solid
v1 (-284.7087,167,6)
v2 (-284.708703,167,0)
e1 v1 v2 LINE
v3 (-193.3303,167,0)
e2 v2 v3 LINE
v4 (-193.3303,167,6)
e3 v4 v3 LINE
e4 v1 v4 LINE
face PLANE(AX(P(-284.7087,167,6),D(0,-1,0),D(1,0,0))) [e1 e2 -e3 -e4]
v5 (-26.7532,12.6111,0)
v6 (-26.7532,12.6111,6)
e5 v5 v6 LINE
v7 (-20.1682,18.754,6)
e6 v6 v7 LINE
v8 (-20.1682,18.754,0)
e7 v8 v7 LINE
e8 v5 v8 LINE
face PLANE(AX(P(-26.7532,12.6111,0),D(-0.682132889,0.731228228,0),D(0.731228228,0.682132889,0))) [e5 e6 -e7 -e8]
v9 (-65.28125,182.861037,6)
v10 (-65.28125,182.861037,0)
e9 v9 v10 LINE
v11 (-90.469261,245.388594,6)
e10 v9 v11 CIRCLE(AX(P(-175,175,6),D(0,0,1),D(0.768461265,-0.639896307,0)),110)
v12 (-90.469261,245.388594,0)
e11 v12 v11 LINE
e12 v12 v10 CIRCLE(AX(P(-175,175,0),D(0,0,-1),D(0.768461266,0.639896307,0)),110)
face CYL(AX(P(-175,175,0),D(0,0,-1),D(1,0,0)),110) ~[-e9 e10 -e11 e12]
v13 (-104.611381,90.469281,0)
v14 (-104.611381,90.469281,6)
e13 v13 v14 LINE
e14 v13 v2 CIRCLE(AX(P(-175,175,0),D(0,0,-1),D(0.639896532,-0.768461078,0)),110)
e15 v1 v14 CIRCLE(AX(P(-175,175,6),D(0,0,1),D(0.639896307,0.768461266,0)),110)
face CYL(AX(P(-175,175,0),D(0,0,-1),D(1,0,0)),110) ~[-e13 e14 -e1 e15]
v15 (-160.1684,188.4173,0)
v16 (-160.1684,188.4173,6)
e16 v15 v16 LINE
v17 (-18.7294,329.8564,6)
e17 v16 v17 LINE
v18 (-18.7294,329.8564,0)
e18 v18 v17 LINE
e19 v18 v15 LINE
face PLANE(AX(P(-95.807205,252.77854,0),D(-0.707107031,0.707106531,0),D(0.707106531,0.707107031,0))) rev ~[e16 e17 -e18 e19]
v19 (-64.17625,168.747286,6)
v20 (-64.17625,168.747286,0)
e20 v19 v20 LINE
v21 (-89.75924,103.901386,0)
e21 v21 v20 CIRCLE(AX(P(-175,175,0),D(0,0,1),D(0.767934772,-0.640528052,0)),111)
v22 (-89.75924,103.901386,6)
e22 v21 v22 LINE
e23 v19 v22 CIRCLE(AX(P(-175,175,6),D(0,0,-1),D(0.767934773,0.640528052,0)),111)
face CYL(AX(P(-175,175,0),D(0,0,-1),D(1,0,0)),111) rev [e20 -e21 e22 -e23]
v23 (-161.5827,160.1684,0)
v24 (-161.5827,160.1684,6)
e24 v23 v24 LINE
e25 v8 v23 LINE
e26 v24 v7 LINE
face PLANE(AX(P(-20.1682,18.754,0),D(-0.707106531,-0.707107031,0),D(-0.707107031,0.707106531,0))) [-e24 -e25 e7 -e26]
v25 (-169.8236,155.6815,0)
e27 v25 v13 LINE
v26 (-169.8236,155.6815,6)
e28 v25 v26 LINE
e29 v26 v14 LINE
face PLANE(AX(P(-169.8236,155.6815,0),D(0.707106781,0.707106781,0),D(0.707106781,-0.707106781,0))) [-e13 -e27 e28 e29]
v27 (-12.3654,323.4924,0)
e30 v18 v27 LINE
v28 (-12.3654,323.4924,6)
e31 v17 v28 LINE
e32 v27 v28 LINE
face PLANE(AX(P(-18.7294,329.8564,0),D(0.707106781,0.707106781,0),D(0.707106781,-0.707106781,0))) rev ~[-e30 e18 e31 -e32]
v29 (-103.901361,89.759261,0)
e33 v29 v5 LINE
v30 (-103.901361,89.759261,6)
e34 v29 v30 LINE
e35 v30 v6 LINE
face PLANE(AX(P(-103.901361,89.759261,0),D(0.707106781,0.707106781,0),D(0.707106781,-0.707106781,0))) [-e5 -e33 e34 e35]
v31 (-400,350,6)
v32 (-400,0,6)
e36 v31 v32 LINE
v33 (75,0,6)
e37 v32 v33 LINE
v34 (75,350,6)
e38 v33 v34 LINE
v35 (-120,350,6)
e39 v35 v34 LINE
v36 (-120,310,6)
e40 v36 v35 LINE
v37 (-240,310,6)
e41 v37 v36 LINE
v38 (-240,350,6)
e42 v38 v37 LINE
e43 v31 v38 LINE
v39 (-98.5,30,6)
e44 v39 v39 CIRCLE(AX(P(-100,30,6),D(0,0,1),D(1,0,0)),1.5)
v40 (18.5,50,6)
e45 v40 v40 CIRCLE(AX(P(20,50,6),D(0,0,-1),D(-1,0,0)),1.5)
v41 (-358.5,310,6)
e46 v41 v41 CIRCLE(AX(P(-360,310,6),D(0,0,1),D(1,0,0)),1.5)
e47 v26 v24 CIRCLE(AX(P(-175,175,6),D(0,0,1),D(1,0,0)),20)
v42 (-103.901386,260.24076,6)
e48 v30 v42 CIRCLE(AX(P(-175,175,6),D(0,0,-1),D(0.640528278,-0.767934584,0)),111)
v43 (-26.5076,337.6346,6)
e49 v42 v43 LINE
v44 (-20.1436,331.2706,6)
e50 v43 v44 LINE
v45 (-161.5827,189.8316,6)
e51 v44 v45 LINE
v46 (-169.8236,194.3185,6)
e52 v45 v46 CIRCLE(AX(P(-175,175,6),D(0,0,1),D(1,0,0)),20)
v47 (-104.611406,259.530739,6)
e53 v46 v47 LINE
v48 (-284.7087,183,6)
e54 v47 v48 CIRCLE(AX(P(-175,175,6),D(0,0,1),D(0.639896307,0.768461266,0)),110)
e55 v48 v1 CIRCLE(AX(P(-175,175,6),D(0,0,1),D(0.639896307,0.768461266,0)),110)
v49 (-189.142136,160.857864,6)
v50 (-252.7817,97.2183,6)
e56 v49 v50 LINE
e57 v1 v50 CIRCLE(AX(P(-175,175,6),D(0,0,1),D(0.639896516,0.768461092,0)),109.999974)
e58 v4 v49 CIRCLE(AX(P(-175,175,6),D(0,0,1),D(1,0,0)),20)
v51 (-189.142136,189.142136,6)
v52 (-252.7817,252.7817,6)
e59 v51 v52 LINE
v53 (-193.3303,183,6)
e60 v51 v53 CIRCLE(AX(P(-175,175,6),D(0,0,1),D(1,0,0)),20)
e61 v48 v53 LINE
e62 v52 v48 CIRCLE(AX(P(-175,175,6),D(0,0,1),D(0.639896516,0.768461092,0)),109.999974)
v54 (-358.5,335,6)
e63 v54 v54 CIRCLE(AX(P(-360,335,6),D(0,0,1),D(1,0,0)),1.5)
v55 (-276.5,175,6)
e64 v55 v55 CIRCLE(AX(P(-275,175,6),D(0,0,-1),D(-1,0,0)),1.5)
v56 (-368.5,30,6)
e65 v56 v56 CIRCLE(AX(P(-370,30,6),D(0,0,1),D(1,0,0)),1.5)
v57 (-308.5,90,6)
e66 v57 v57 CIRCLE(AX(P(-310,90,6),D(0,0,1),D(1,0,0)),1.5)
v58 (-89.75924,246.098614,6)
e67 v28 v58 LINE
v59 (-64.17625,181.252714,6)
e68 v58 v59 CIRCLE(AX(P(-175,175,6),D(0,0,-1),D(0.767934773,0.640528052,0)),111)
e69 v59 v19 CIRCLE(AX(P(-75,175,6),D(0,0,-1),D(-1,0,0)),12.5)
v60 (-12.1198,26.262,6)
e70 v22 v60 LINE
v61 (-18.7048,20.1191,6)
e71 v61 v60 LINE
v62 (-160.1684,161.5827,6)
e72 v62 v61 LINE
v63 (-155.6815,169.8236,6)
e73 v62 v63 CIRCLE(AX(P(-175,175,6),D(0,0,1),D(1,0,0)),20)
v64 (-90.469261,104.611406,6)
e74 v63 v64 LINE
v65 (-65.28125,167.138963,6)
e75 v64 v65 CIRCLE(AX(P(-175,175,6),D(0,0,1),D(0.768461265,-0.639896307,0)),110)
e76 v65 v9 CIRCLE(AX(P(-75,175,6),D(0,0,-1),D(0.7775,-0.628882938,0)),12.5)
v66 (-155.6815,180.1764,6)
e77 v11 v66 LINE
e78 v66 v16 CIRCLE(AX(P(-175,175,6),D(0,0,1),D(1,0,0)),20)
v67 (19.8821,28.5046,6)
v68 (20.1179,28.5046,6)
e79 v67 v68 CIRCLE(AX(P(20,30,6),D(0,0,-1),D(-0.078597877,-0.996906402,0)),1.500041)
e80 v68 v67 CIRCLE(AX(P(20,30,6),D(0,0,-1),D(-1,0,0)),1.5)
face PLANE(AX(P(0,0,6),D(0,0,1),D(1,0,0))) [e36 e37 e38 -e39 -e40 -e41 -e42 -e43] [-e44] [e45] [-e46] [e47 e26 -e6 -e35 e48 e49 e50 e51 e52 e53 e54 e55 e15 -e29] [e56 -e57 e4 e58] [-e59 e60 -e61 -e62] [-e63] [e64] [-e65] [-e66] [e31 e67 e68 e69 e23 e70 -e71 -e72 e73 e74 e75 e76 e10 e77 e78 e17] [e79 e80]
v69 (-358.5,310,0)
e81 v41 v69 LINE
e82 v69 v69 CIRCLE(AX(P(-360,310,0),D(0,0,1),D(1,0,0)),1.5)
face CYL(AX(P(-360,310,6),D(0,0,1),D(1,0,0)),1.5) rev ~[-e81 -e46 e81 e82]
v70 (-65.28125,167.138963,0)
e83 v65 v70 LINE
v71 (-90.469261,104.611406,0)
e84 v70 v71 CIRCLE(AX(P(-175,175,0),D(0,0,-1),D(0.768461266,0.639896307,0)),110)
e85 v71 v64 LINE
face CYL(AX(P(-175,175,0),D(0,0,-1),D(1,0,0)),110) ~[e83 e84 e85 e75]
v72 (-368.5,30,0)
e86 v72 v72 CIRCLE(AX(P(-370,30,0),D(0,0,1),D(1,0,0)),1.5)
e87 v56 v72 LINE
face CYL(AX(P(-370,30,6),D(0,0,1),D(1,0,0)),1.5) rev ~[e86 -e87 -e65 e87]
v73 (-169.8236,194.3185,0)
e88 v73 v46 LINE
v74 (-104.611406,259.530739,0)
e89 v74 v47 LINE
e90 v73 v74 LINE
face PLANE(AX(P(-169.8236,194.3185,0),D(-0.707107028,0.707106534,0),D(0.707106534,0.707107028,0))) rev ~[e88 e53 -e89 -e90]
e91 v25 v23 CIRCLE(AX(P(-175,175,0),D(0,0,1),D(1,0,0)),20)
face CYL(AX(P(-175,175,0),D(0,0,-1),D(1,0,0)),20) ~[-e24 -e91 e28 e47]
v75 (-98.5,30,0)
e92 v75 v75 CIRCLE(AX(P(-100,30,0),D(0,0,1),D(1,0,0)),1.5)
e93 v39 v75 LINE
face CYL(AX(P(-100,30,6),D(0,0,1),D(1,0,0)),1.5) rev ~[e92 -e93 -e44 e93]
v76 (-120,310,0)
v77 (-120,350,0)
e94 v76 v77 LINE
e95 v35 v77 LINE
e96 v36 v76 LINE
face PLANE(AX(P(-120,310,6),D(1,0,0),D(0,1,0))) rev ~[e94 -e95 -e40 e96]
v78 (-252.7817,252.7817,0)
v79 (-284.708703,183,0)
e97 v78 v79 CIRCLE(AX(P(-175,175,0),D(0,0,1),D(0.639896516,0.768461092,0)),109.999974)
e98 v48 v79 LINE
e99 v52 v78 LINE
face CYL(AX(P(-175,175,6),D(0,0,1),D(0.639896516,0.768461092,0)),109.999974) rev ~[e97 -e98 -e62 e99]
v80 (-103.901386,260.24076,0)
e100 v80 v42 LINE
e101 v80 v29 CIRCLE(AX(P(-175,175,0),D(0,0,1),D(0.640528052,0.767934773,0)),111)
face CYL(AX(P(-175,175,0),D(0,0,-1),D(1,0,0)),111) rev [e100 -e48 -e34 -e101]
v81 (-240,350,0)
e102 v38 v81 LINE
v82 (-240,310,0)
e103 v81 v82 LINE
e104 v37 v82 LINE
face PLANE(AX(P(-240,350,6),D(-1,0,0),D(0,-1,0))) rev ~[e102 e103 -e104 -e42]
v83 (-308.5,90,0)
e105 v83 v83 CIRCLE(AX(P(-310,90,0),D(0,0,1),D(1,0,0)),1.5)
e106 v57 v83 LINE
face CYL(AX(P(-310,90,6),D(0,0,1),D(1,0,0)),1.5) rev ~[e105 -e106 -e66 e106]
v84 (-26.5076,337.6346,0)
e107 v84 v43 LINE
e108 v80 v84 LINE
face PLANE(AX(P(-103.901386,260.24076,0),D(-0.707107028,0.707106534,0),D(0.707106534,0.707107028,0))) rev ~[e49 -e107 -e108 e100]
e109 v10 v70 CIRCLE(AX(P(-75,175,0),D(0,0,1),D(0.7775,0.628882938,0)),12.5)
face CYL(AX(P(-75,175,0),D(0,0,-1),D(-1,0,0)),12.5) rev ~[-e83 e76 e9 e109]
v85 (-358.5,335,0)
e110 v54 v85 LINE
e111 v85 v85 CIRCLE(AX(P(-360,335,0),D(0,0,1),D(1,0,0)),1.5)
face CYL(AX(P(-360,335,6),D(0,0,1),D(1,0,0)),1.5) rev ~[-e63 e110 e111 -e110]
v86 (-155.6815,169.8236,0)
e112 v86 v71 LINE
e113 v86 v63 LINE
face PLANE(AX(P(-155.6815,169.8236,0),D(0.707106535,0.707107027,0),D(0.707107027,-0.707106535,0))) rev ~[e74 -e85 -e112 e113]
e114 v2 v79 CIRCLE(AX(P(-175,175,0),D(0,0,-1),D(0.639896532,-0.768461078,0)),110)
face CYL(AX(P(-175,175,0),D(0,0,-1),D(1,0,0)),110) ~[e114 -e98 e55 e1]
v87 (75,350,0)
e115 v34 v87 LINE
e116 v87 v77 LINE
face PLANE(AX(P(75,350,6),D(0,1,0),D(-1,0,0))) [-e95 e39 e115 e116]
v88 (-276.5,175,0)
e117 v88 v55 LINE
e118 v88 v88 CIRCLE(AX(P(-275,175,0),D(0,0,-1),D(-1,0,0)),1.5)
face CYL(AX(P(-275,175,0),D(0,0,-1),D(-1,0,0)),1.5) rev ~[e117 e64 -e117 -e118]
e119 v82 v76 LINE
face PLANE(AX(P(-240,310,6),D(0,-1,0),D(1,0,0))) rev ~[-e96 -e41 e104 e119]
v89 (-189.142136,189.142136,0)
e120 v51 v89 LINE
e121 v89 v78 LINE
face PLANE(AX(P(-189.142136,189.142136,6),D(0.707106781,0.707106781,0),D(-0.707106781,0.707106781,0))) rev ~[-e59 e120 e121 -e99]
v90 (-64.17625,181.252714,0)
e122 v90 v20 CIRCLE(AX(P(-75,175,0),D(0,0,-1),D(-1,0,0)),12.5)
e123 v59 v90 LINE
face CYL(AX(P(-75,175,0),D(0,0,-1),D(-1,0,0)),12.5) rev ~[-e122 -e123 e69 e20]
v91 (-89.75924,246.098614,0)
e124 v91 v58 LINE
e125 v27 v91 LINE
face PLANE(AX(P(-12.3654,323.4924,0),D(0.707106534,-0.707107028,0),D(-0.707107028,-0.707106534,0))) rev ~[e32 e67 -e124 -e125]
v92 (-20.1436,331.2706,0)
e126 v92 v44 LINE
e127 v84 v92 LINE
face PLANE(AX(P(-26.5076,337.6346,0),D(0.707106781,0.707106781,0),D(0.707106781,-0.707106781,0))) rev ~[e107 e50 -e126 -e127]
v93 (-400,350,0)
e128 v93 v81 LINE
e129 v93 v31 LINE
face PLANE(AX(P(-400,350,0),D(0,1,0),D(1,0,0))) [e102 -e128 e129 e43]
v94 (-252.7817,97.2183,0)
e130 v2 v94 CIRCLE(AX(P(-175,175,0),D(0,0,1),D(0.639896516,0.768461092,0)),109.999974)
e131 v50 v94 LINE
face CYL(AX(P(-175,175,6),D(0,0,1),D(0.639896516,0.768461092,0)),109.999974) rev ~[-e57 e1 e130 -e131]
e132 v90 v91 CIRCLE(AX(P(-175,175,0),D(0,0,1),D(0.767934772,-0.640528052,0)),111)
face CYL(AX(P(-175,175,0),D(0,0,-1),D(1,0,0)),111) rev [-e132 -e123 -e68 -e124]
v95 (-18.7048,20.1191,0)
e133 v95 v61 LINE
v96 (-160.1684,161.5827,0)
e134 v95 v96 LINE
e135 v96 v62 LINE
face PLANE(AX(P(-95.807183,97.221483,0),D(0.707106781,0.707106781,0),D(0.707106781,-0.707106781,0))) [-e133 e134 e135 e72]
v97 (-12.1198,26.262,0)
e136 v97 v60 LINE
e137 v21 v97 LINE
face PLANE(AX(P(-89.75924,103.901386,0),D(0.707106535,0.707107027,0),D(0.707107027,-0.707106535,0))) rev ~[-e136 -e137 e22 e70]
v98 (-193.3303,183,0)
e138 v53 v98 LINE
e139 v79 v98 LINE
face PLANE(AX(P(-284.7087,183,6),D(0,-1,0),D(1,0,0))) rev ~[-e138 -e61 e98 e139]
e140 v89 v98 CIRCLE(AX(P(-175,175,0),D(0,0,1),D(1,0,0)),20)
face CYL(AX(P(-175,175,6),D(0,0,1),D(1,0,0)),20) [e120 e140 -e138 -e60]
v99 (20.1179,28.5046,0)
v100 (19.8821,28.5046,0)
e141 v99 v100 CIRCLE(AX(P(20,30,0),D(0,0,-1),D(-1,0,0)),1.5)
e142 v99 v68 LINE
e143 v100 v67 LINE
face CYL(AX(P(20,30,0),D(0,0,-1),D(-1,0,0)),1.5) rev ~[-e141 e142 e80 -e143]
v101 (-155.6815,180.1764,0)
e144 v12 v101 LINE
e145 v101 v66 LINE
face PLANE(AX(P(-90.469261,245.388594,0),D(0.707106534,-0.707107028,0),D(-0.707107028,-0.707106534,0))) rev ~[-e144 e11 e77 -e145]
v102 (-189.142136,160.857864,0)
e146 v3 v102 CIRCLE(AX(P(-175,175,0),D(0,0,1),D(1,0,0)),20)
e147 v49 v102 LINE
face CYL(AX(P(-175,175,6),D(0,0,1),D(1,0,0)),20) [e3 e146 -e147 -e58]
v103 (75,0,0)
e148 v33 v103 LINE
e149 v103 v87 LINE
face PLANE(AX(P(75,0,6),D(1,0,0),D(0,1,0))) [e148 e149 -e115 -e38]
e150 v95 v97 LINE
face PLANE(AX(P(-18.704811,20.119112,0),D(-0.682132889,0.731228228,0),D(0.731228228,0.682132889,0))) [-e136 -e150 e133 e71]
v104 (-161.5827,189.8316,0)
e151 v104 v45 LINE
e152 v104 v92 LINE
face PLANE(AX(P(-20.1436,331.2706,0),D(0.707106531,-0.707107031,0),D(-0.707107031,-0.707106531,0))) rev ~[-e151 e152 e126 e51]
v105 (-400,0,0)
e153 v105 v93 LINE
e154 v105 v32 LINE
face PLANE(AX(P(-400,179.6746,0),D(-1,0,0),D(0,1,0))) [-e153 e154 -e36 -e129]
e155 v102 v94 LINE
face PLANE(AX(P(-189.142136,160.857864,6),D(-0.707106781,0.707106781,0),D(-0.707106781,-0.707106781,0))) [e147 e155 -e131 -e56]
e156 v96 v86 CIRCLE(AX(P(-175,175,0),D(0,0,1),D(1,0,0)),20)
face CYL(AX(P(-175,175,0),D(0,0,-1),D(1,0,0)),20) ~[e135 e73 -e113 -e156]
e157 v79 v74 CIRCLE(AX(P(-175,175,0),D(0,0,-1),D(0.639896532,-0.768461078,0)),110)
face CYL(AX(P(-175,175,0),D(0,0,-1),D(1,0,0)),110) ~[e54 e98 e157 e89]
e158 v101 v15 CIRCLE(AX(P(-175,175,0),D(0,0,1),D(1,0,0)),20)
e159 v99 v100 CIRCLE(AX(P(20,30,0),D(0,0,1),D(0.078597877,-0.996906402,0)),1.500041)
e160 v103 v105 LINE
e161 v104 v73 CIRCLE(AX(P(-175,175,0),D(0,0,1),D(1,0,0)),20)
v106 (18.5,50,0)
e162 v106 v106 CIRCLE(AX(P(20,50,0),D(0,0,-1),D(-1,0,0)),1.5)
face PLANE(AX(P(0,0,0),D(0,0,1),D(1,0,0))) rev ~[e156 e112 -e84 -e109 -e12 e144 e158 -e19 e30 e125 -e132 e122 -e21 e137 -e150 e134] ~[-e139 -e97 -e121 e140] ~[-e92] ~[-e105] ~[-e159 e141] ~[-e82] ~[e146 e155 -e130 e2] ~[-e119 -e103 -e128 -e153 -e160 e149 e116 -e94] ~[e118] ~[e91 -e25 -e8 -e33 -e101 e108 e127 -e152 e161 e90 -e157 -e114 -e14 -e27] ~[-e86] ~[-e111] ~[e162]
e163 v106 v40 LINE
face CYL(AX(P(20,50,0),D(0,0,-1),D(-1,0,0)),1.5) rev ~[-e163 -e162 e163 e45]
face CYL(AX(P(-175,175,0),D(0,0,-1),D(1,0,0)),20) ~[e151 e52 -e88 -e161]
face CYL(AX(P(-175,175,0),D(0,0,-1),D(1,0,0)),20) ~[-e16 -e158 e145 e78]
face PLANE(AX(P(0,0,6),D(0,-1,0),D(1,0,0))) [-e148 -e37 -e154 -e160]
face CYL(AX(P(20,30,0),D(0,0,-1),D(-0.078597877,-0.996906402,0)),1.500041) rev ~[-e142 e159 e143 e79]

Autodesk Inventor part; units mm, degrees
ref_plane "YZ Plane" through (0, 0, 0) normal (1, 0, 0) x (0, 1, 0)
ref_plane "XZ Plane" through (0, 0, 0) normal (0, 1, 0) x (-1, 0, 0)
ref_plane "XY Plane" through (0, 0, 0) normal (0, 0, 1) x (1, 0, 0)
sketch "Sketch1" plane through (0, 0, 0) normal (0, 0, 1) x (1, 0, 0)
  line L0 (0, 0) -> (-400, 0)
  line L1 (-400, 0) -> (-400, 350)
  line L2 (-400, 350) -> (0, 350)
  line L3 (0, 350) -> (0, 0)
  circle A0 centre (-175, 175) radius 110
  circle A1 centre (-175, 175) radius 20
  line L4 (-160.8579, 160.8579) -> (0, 0)
  line L5 (0, 350) -> (-160.8579, 189.1421)
  line L6 (-169.8236, 194.3185) -> (-26.5076, 337.6346)
  line L7 (-26.5076, 337.6346) -> (-12.3654, 323.4924)
  line L8 (-12.3654, 323.4924) -> (-155.6815, 180.1764)
  line L9 (-155.6815, 169.8236) -> (-12.1198, 26.262)
  line L10 (-169.8236, 155.6815) -> (-26.7532, 12.6111)
  line L11 (-26.7532, 12.6111) -> (-12.1198, 26.262)
  line L12 (-160.1684, 188.4173) -> (-18.7294, 329.8564)
  line L13 (-20.1436, 331.2706) -> (-161.5827, 189.8316)
  line L14 (-160.1684, 161.5827) -> (-18.7048, 20.1191)
  line L15 (-20.1682, 18.754) -> (-161.5827, 160.1684)
  circle A2 centre (-175, 175) radius 111
  line L16 (-400, 0) -> (-317.8714, 0)
  line L17 (-317.8714, 0) -> (-317.8714, 55)
  line L18 (-317.8714, 55) -> (-400, 55)
  line L19 (-400, 55) -> (-400, 0)
  line L20 (-317.8714, 0) -> (-307.8714, 0)
  line L21 (-307.8714, 0) -> (-307.8714, 155)
  line L22 (-317.8714, 155) -> (-317.8714, 0)
  line L23 (-317.8714, 55) -> (-320.1214, 55)
  line L24 (-320.1214, 55) -> (-320.1214, 155)
  line L25 (-320.1214, 155) -> (-317.8714, 155)
  line L26 (-317.8714, 155) -> (-317.8714, 55)
  line L27 (-400, 55) -> (-397.75, 55)
  line L28 (-397.75, 55) -> (-397.75, 155)
  line L29 (-397.75, 155) -> (-400, 155)
  line L30 (-400, 155) -> (-400, 55)
  line L31 (-400, 155) -> (-307.8714, 155)
  line L32 (-307.8714, 155) -> (-307.8714, 175)
  line L33 (-307.8714, 175) -> (-400, 175)
  line L34 (-400, 175) -> (-400, 155)
  line L35 (-175, 175) -> (-307.8714, 175)
  line L36 (-307.8714, 175) -> (-307.8714, 171)
  line L37 (-307.8714, 171) -> (-175, 171)
  line L38 (-175, 171) -> (-175, 175)
  line L39 (-307.8714, 169) -> (-175, 169)
  line L40 (-175, 169) -> (-175, 165)
  line L41 (-175, 165) -> (-307.8714, 165)
  line L42 (-307.8714, 165) -> (-307.8714, 169)
  line L43 (-317.8714, 155) -> (-297.8714, 155)
  line L44 (-297.8714, 155) -> (-297.8714, 165)
  line L45 (-297.8714, 165) -> (-317.8714, 165)
  line L46 (-317.8714, 165) -> (-317.8714, 155)
  line L47 (-400, 175) -> (-285.6082, 175)
  line L48 (-285.6082, 175) -> (-285.6082, 179.6746)
  line L49 (-285.6082, 179.6746) -> (-400, 179.6746)
  line L50 (-400, 179.6746) -> (-400, 175)
  point P0 (-19.4365, 330.5635)
  point P1 (-19.4365, 19.4365)
  point P2 (-89.7592, 246.0986)
  point P3 (-89.7592, 103.9014)
  point P4 (-90.4693, 104.6114)
  point P5 (-90.4693, 245.3886)
  point P6 (-104.6114, 259.5307)
  point P7 (-104.6114, 90.4693)
  point P8 (-103.9014, 89.7592)
  point P9 (-103.9014, 260.2408)
  point P10 (-317.8714, 27.5)
  point P11 (-285.5486, 165)
  point P12 (-284.5445, 165)
  point P13 (-317.8714, 0)
  point P14 (-285, 175)
  point P15 (-286, 175)
  point P16 (-285.8377, 169)
  point P17 (-194.0788, 169)
  point P18 (-192.3205, 165)
  point P19 (-97.9286, 96.5144)
  point P20 (-97.2214, 95.8072)
  point P21 (-284.8362, 169)
  point P22 (-96.5144, 97.9286)
  point P23 (-96.5144, 252.0714)
  point P24 (-97.9286, 253.4856)
  point P25 (-97.2214, 254.1928)
  point P26 (-95.8072, 252.7786)
  point P27 (-95.8072, 97.2214)
  point P28 (-285.9015, 179.6746)
  dimension "d7" = 40
  dimension "d0" = 350
  dimension "d1" = 400
  dimension "d4" = 175
  dimension "d5" = 175
  dimension "d6" = 220
  dimension "d8" = 10
  dimension "d9" = 10
  dimension "d10" = 10
  dimension "d11" = 10
  dimension "d12" = 1
  dimension "d13" = 1
  dimension "d14" = 1
  dimension "d15" = 1
  dimension "d16" = 200
  dimension "d17" = 200
  dimension "d18" = 222
  dimension "d19" = 100
  dimension "d20" = 2.25
  dimension "d21" = 2.25
  dimension "d22" = 10
  dimension "d24" = 20
  dimension "d25" = 0
  dimension "d26" = 6
  dimension "d27" = 4
  dimension "d28" = 4
  dimension "d29" = 20
  dimension "d30" = 0
extrude "Extrusion1" add sketch "Sketch1" along normal blind 6 contours L4 L11 L9 A2 L8 L7 L5 L3 | L0 L21 L43 L44 L41 A2 L10 L11 L4 | L0 L17 L22 L31 L21 | L5 L7 L6 A2 L49 L1 L2 | L11 L15 A2 L4 | L4 A2 L14 L11 | L0 L1 L18 L17 | L31 L46 L45 L32 | L32 L41 L44 L43 | L7 L12 A2 L5 | L5 A2 L13 L7 | A2 L15 A0 L4 | L4 A0 L14 A2 | L18 L24 L25 L22 | L25 L31 L29 L1 L33 L32 L45 L46 | L32 L39 A2 L41 | L49 A2 L35 L33 L1 | A2 L12 A0 L5 | L5 A0 L13 A2 | L4 A1 L14 A0 | A0 L15 A1 L4 | L1 L29 L28 L18 | L18 L28 L31 L24 | L32 L37 A2 L39 | L5 A1 L13 A0 | A0 L12 A1 L5 | A1 L41 L40 L39 L37 L38 L35 | L32 L35 A2 L37 | A0 L41 A1 L10 | L9 A1 L8 A0 | L39 A1 L41 A0 | A0 L37 A1 L39 | L6 A1 L35 A0 | A0 L35 A1 L37 | L39 L40 L41 A1 | A1 L35 L38 L37
sketch "Sketch2" plane through (0, 0, 0) normal (0, 0, -1) x (-1, 0, 0)
  arc A0 (285.9015, 179.6746) -> (103.9014, 260.2408) centre (175, 175) ccw projected
  circle A1 centre (275, 175) radius 1.5
  circle A2 centre (75, 175) radius 12.5
  point P0 (0, 0)
  dimension "d31" = 3
  dimension "d32" = 0
  dimension "d33" = 100
  dimension "d36" = 100
  dimension "d37" = 25
extrude "Extrusion2" cut sketch "Sketch2" against normal blind 6
sketch "Sketch3" plane through (0, 0, 6) normal (0, 0, 1) x (1, 0, 0)
  line L0 (0, 350) -> (-400, 350) projected
  line L1 (-120, 350) -> (-240, 350)
  line L2 (-240, 350) -> (-240, 310)
  line L3 (-240, 310) -> (-120, 310)
  line L4 (-120, 310) -> (-120, 350)
  line L5 (0, 0) -> (0, 350) projected
  dimension "d40" = 40
  dimension "d41" = 120
  dimension "d42" = 120
extrude "Extrusion3" cut sketch "Sketch3" against normal blind 6
sketch "Sketch4" plane through (0, 0, 6) normal (0, 0, 1) x (1, 0, 0)
  line L0 (-240, 310) -> (-240, 350) projected
  line L1 (-307.8714, 350) -> (-240, 350) projected
  line L2 (-307.8714, 341) -> (-307.8714, 350) projected
  line L3 (-275, 341) -> (-307.8714, 341) projected
  line L4 (-275, 309) -> (-275, 341) projected
  line L5 (-307.8714, 309) -> (-275, 309) projected
  line L6 (-307.8714, 195) -> (-307.8714, 309) projected
  line L7 (-297.8714, 195) -> (-307.8714, 195) projected
  line L8 (-297.8714, 185) -> (-297.8714, 195) projected
  line L9 (-285.5486, 185) -> (-297.8714, 185) projected
  line L10 (-26.7532, 337.3889) -> (-103.9014, 260.2408) projected
  line L11 (-20.1682, 331.246) -> (-26.7532, 337.3889) projected
  line L12 (-161.5827, 189.8316) -> (-20.1682, 331.246) projected
  line L13 (-104.6114, 259.5307) -> (-169.8236, 194.3185) projected
  line L14 (-175, 185) -> (-284.5445, 185) projected
  line L15 (-175, 181) -> (-175, 185) projected
  line L16 (-307.8714, 181) -> (-175, 181) projected
  line L17 (-307.8714, 185) -> (-307.8714, 181) projected
  line L18 (-317.8714, 185) -> (-307.8714, 185) projected
  line L19 (-317.8714, 310) -> (-317.8714, 185) projected
  line L20 (-285, 310) -> (-317.8714, 310) projected
  line L21 (-285, 340) -> (-285, 310) projected
  line L22 (-317.8714, 340) -> (-285, 340) projected
  line L23 (-317.8714, 350) -> (-317.8714, 340) projected
  line L24 (-400, 350) -> (-317.8714, 350) projected
  line L25 (-400, 175) -> (-400, 350) projected
  line L26 (-307.8714, 175) -> (-400, 175) projected
  line L27 (-307.8714, 179) -> (-307.8714, 175) projected
  line L28 (-175, 179) -> (-307.8714, 179) projected
  line L29 (-175, 175) -> (-175, 179) projected
  line L30 (-262.5741, 175) -> (-175, 175) projected
  line L31 (-169.8236, 155.6815) -> (-104.6114, 90.4693) projected
  line L32 (-20.1436, 18.7294) -> (-161.5827, 160.1684) projected
  line L33 (-26.5076, 12.3654) -> (-20.1436, 18.7294) projected
  line L34 (-103.9014, 89.7592) -> (-26.5076, 12.3654) projected
  line L35 (-400, 170.3254) -> (-286.7025, 170.3254) projected
  line L36 (-400, 0) -> (-400, 170.3254) projected
  line L37 (-120, 350) -> (-120, 310) projected
  line L38 (-120, 310) -> (-240, 310) projected
  line L39 (-160.1684, 161.5827) -> (-18.7294, 20.1436) projected
  line L40 (-12.3654, 26.5076) -> (-89.7592, 103.9014) projected
  line L41 (-155.6815, 180.1764) -> (-143.7852, 192.0727) projected
  line L42 (-18.7048, 329.8809) -> (-160.1684, 188.4173) projected
  line L43 (-12.1198, 323.738) -> (-18.7048, 329.8809) projected
  line L44 (-89.7592, 246.0986) -> (-12.1198, 323.738) projected
  line L45 (-18.7294, 20.1436) -> (-12.3654, 26.5076) projected
  line L46 (-397.75, 195) -> (-320.1214, 195) projected
  line L47 (-397.75, 295) -> (-397.75, 195) projected
  line L48 (-320.1214, 295) -> (-397.75, 295) projected
  line L49 (-320.1214, 195) -> (-320.1214, 295) projected
  circle A0 centre (-100, 30) radius 1.5 projected
  circle A1 centre (-310, 90) radius 1.5 projected
  circle A2 centre (-370, 30) radius 1.5 projected
  arc A3 (-103.9014, 260.2408) -> (-285.5486, 185) centre (-175, 175) ccw projected
  arc A4 (-161.5827, 189.8316) -> (-169.8236, 194.3185) centre (-175, 175) ccw projected
  arc A5 (-104.6114, 259.5307) -> (-284.5445, 185) centre (-175, 175) ccw projected
  arc A6 (-284.7044, 166.9419) -> (-262.5741, 175) centre (-275.0738, 174.9106) ccw projected
  arc A7 (-284.7044, 166.9419) -> (-104.6114, 90.4693) centre (-175, 175) ccw projected
  arc A8 (-169.8236, 155.6815) -> (-161.5827, 160.1684) centre (-175, 175) ccw projected
  arc A9 (-285.81, 168.5087) -> (-103.9014, 89.7592) centre (-175, 175) ccw projected
  arc A10 (-286.7025, 170.3254) -> (-285.81, 168.5087) centre (-275.0738, 174.9106) ccw projected
  arc A11 (-160.1684, 161.5827) -> (-155.6815, 169.8236) centre (-175, 175) ccw projected
  arc A12 (-65.2913, 167) -> (-65.2913, 183) centre (-175, 175) ccw projected
  arc A13 (-155.6815, 180.1764) -> (-160.1684, 188.4173) centre (-175, 175) ccw projected
  arc A14 (-89.7592, 103.9014) -> (-89.7592, 246.0986) centre (-175, 175) ccw projected
  circle A15 centre (-75, 175) radius 1.5 projected
  line L50 (-143.7852, 157.9273) -> (-143.7852, 167) projected
  line L51 (-143.7852, 167) -> (-65.2913, 167) projected
  line L52 (-65.2913, 183) -> (-143.7852, 183) projected
  line L53 (-143.7852, 183) -> (-143.7852, 192.0727) projected
  line L54 (-143.7852, 157.9273) -> (-155.6815, 169.8236) projected
  arc A16 (-332.8714, 308.5) -> (-332.8714, 311.5) centre (-332.8714, 310) ccw projected
  line L55 (-332.8714, 308.5) -> (-385, 308.5) projected
  arc A17 (-385, 311.5) -> (-385, 308.5) centre (-385, 310) ccw projected
  line L56 (-385, 311.5) -> (-332.8714, 311.5) projected
  line L57 (-332.8714, 333.5) -> (-385, 333.5) projected
  arc A18 (-385, 336.5) -> (-385, 333.5) centre (-385, 335) ccw projected
  line L58 (-385, 336.5) -> (-332.8714, 336.5) projected
  arc A19 (-332.8714, 333.5) -> (-332.8714, 336.5) centre (-332.8714, 335) ccw projected
  line L59 (-400, 0) -> (75, 0) projected
  line L60 (75, 0) -> (75, 350) projected
  line L61 (-120, 350) -> (75, 350) projected
  arc A20 (20.1179, 28.5046) -> (19.8821, 28.5046) centre (20, 30) ccw projected
  line L62 (20.1179, 28.5046) -> (19.8821, 28.5046) projected
  circle A21 centre (20, 50) radius 1.5 projected
  point P0 (0, 0)
extrude "Extrusion4" cut sketch "Sketch4" against normal blind 6 contours A0 | A1 | A2
sketch "Sketch5" plane through (0, 0, 6) normal (0, 0, 1) x (1, 0, 0)
  circle A0 centre (-275, 175) radius 1.5 projected
  arc A1 (-104.6114, 259.5307) -> (-104.6114, 90.4693) centre (-175, 175) ccw projected
  line L0 (-284.7087, 167) -> (-193.3303, 167)
  arc A2 (-103.9014, 260.2408) -> (-103.9014, 89.7592) centre (-175, 175) ccw projected
  line L1 (-284.7087, 183) -> (-193.3303, 183)
  arc A3 (-169.8236, 155.6815) -> (-161.5827, 160.1684) centre (-175, 175) ccw projected
  arc A4 (-169.8236, 155.6815) -> (-161.5827, 160.1684) centre (-175, 175) ccw projected
  circle A5 centre (-175, 175) radius 20
  line L2 (-175, 175) -> (-252.7817, 97.2183)
  line L3 (-175, 175) -> (-252.7817, 252.7817)
  point P0 (0, 0)
  point P1 (-189.1421, 189.1421)
  point P2 (-189.1421, 160.8579)
  dimension "d45" = 8
  dimension "d46" = 8
  dimension "d47" = 45
  dimension "d48" = 45
extrude "Extrusion5" cut sketch "Sketch5" against normal blind 10 contours L3 A5 L1 A1 | L0 A5 L2 A1
sketch "Sketch6" plane through (0, 0, 6) normal (0, 0, 1) x (1, 0, 0)
  circle A0 centre (-360, 335) radius 1.5
  circle A1 centre (-360, 310) radius 1.5
  line L0 (-240, 350) -> (-400, 350) projected
  line L1 (-400, 350) -> (-400, 0) projected
  point P0 (0, 0)
  dimension "d51" = 3
  dimension "d52" = 15
  dimension "d53" = 25
  dimension "d54" = 3
  dimension "d55" = 40
  dimension "d56" = 40
extrude "Extrusion6" cut sketch "Sketch6" against normal blind 10
sketch "Sketch7" plane through (0, 0, 6) normal (0, 0, 1) x (1, 0, 0)
  line L0 (0, 0) -> (0, 350) projected
  line L1 (0, 0) -> (75, 0)
  line L2 (75, 0) -> (75, 350)
  line L3 (75, 350) -> (0, 350)
  line L4 (0, 350) -> (0, 0)
  line L5 (-400, 350) -> (-400, 0) projected
  point P0 (75, 175)
  dimension "d59" = 475
extrude "Extrusion7" add sketch "Sketch7" against normal blind 6
sketch "Sketch8" plane through (0, 0, 0) normal (0, 0, -1) x (-1, 0, 0)
  circle A0 centre (-20, 50) radius 1.5 projected
  arc A1 (-19.8821, 28.5046) -> (-20.1179, 28.5046) centre (-20, 30) ccw projected
  circle A2 centre (-20, 30) radius 1.5
  point P0 (0, 0)
  point P1 (-20.1179, 28.5046)
  point P2 (-19.8821, 28.5046)
extrude "Extrusion8" cut sketch "Sketch8" against normal blind 6
equation "\"d4\" = d5"
equation "\"d5\" = 0.5 * d0"
equation "\"d13\" = d12"
equation "\"d15\" = d14"
equation "\"d16\" = BladeLengthRCC"
equation "\"d17\" = d16"
equation "\"d19\" = bladeLengthZeroConverter"
equation "\"d20\" = bladeThicknessZeroConverter"
equation "\"d21\" = bladeThicknessZeroConverter"
equation "\"d27\" = d28"
equation "\"d2\" = thicknessWheelPlate"
equation "\"d34\" = thicknessWheelPlate"
equation "\"d38\" = thicknessWheelPlate"
equation "\"d43\" = thicknessWheelPlate"
equation "\"d56\" = d55"
equation "\"bladeThicknessTablePushing\" = 1"
equation "\"bladeThicknessTable\" = 1"
equation "\"bladeThicknessForceConverter\" = 2"
equation "\"bladeThicknessWheelAnchor\" = 1"
equation "\"BladeThicknessRCC\" = 1"
equation "\"bladeThicknessZeroConverter\" = 2.25"
equation "\"rangeXProbeMax\" = 1"
equation "\"rangeXProbeMin\" = -1"
equation "\"BladeLengthRCC\" = 200"
equation "\"bladeLengthZeroConverter\" = 100"
equation "\"safetyPlay\" = 0.1"
equation "\"OffsetMotorSpring\" = -1"
equation "\"thicknessWheelPlate\" = 6"
equation "\"thicknessConverterPlate\" = 6"
properties part number "Wheel1"
